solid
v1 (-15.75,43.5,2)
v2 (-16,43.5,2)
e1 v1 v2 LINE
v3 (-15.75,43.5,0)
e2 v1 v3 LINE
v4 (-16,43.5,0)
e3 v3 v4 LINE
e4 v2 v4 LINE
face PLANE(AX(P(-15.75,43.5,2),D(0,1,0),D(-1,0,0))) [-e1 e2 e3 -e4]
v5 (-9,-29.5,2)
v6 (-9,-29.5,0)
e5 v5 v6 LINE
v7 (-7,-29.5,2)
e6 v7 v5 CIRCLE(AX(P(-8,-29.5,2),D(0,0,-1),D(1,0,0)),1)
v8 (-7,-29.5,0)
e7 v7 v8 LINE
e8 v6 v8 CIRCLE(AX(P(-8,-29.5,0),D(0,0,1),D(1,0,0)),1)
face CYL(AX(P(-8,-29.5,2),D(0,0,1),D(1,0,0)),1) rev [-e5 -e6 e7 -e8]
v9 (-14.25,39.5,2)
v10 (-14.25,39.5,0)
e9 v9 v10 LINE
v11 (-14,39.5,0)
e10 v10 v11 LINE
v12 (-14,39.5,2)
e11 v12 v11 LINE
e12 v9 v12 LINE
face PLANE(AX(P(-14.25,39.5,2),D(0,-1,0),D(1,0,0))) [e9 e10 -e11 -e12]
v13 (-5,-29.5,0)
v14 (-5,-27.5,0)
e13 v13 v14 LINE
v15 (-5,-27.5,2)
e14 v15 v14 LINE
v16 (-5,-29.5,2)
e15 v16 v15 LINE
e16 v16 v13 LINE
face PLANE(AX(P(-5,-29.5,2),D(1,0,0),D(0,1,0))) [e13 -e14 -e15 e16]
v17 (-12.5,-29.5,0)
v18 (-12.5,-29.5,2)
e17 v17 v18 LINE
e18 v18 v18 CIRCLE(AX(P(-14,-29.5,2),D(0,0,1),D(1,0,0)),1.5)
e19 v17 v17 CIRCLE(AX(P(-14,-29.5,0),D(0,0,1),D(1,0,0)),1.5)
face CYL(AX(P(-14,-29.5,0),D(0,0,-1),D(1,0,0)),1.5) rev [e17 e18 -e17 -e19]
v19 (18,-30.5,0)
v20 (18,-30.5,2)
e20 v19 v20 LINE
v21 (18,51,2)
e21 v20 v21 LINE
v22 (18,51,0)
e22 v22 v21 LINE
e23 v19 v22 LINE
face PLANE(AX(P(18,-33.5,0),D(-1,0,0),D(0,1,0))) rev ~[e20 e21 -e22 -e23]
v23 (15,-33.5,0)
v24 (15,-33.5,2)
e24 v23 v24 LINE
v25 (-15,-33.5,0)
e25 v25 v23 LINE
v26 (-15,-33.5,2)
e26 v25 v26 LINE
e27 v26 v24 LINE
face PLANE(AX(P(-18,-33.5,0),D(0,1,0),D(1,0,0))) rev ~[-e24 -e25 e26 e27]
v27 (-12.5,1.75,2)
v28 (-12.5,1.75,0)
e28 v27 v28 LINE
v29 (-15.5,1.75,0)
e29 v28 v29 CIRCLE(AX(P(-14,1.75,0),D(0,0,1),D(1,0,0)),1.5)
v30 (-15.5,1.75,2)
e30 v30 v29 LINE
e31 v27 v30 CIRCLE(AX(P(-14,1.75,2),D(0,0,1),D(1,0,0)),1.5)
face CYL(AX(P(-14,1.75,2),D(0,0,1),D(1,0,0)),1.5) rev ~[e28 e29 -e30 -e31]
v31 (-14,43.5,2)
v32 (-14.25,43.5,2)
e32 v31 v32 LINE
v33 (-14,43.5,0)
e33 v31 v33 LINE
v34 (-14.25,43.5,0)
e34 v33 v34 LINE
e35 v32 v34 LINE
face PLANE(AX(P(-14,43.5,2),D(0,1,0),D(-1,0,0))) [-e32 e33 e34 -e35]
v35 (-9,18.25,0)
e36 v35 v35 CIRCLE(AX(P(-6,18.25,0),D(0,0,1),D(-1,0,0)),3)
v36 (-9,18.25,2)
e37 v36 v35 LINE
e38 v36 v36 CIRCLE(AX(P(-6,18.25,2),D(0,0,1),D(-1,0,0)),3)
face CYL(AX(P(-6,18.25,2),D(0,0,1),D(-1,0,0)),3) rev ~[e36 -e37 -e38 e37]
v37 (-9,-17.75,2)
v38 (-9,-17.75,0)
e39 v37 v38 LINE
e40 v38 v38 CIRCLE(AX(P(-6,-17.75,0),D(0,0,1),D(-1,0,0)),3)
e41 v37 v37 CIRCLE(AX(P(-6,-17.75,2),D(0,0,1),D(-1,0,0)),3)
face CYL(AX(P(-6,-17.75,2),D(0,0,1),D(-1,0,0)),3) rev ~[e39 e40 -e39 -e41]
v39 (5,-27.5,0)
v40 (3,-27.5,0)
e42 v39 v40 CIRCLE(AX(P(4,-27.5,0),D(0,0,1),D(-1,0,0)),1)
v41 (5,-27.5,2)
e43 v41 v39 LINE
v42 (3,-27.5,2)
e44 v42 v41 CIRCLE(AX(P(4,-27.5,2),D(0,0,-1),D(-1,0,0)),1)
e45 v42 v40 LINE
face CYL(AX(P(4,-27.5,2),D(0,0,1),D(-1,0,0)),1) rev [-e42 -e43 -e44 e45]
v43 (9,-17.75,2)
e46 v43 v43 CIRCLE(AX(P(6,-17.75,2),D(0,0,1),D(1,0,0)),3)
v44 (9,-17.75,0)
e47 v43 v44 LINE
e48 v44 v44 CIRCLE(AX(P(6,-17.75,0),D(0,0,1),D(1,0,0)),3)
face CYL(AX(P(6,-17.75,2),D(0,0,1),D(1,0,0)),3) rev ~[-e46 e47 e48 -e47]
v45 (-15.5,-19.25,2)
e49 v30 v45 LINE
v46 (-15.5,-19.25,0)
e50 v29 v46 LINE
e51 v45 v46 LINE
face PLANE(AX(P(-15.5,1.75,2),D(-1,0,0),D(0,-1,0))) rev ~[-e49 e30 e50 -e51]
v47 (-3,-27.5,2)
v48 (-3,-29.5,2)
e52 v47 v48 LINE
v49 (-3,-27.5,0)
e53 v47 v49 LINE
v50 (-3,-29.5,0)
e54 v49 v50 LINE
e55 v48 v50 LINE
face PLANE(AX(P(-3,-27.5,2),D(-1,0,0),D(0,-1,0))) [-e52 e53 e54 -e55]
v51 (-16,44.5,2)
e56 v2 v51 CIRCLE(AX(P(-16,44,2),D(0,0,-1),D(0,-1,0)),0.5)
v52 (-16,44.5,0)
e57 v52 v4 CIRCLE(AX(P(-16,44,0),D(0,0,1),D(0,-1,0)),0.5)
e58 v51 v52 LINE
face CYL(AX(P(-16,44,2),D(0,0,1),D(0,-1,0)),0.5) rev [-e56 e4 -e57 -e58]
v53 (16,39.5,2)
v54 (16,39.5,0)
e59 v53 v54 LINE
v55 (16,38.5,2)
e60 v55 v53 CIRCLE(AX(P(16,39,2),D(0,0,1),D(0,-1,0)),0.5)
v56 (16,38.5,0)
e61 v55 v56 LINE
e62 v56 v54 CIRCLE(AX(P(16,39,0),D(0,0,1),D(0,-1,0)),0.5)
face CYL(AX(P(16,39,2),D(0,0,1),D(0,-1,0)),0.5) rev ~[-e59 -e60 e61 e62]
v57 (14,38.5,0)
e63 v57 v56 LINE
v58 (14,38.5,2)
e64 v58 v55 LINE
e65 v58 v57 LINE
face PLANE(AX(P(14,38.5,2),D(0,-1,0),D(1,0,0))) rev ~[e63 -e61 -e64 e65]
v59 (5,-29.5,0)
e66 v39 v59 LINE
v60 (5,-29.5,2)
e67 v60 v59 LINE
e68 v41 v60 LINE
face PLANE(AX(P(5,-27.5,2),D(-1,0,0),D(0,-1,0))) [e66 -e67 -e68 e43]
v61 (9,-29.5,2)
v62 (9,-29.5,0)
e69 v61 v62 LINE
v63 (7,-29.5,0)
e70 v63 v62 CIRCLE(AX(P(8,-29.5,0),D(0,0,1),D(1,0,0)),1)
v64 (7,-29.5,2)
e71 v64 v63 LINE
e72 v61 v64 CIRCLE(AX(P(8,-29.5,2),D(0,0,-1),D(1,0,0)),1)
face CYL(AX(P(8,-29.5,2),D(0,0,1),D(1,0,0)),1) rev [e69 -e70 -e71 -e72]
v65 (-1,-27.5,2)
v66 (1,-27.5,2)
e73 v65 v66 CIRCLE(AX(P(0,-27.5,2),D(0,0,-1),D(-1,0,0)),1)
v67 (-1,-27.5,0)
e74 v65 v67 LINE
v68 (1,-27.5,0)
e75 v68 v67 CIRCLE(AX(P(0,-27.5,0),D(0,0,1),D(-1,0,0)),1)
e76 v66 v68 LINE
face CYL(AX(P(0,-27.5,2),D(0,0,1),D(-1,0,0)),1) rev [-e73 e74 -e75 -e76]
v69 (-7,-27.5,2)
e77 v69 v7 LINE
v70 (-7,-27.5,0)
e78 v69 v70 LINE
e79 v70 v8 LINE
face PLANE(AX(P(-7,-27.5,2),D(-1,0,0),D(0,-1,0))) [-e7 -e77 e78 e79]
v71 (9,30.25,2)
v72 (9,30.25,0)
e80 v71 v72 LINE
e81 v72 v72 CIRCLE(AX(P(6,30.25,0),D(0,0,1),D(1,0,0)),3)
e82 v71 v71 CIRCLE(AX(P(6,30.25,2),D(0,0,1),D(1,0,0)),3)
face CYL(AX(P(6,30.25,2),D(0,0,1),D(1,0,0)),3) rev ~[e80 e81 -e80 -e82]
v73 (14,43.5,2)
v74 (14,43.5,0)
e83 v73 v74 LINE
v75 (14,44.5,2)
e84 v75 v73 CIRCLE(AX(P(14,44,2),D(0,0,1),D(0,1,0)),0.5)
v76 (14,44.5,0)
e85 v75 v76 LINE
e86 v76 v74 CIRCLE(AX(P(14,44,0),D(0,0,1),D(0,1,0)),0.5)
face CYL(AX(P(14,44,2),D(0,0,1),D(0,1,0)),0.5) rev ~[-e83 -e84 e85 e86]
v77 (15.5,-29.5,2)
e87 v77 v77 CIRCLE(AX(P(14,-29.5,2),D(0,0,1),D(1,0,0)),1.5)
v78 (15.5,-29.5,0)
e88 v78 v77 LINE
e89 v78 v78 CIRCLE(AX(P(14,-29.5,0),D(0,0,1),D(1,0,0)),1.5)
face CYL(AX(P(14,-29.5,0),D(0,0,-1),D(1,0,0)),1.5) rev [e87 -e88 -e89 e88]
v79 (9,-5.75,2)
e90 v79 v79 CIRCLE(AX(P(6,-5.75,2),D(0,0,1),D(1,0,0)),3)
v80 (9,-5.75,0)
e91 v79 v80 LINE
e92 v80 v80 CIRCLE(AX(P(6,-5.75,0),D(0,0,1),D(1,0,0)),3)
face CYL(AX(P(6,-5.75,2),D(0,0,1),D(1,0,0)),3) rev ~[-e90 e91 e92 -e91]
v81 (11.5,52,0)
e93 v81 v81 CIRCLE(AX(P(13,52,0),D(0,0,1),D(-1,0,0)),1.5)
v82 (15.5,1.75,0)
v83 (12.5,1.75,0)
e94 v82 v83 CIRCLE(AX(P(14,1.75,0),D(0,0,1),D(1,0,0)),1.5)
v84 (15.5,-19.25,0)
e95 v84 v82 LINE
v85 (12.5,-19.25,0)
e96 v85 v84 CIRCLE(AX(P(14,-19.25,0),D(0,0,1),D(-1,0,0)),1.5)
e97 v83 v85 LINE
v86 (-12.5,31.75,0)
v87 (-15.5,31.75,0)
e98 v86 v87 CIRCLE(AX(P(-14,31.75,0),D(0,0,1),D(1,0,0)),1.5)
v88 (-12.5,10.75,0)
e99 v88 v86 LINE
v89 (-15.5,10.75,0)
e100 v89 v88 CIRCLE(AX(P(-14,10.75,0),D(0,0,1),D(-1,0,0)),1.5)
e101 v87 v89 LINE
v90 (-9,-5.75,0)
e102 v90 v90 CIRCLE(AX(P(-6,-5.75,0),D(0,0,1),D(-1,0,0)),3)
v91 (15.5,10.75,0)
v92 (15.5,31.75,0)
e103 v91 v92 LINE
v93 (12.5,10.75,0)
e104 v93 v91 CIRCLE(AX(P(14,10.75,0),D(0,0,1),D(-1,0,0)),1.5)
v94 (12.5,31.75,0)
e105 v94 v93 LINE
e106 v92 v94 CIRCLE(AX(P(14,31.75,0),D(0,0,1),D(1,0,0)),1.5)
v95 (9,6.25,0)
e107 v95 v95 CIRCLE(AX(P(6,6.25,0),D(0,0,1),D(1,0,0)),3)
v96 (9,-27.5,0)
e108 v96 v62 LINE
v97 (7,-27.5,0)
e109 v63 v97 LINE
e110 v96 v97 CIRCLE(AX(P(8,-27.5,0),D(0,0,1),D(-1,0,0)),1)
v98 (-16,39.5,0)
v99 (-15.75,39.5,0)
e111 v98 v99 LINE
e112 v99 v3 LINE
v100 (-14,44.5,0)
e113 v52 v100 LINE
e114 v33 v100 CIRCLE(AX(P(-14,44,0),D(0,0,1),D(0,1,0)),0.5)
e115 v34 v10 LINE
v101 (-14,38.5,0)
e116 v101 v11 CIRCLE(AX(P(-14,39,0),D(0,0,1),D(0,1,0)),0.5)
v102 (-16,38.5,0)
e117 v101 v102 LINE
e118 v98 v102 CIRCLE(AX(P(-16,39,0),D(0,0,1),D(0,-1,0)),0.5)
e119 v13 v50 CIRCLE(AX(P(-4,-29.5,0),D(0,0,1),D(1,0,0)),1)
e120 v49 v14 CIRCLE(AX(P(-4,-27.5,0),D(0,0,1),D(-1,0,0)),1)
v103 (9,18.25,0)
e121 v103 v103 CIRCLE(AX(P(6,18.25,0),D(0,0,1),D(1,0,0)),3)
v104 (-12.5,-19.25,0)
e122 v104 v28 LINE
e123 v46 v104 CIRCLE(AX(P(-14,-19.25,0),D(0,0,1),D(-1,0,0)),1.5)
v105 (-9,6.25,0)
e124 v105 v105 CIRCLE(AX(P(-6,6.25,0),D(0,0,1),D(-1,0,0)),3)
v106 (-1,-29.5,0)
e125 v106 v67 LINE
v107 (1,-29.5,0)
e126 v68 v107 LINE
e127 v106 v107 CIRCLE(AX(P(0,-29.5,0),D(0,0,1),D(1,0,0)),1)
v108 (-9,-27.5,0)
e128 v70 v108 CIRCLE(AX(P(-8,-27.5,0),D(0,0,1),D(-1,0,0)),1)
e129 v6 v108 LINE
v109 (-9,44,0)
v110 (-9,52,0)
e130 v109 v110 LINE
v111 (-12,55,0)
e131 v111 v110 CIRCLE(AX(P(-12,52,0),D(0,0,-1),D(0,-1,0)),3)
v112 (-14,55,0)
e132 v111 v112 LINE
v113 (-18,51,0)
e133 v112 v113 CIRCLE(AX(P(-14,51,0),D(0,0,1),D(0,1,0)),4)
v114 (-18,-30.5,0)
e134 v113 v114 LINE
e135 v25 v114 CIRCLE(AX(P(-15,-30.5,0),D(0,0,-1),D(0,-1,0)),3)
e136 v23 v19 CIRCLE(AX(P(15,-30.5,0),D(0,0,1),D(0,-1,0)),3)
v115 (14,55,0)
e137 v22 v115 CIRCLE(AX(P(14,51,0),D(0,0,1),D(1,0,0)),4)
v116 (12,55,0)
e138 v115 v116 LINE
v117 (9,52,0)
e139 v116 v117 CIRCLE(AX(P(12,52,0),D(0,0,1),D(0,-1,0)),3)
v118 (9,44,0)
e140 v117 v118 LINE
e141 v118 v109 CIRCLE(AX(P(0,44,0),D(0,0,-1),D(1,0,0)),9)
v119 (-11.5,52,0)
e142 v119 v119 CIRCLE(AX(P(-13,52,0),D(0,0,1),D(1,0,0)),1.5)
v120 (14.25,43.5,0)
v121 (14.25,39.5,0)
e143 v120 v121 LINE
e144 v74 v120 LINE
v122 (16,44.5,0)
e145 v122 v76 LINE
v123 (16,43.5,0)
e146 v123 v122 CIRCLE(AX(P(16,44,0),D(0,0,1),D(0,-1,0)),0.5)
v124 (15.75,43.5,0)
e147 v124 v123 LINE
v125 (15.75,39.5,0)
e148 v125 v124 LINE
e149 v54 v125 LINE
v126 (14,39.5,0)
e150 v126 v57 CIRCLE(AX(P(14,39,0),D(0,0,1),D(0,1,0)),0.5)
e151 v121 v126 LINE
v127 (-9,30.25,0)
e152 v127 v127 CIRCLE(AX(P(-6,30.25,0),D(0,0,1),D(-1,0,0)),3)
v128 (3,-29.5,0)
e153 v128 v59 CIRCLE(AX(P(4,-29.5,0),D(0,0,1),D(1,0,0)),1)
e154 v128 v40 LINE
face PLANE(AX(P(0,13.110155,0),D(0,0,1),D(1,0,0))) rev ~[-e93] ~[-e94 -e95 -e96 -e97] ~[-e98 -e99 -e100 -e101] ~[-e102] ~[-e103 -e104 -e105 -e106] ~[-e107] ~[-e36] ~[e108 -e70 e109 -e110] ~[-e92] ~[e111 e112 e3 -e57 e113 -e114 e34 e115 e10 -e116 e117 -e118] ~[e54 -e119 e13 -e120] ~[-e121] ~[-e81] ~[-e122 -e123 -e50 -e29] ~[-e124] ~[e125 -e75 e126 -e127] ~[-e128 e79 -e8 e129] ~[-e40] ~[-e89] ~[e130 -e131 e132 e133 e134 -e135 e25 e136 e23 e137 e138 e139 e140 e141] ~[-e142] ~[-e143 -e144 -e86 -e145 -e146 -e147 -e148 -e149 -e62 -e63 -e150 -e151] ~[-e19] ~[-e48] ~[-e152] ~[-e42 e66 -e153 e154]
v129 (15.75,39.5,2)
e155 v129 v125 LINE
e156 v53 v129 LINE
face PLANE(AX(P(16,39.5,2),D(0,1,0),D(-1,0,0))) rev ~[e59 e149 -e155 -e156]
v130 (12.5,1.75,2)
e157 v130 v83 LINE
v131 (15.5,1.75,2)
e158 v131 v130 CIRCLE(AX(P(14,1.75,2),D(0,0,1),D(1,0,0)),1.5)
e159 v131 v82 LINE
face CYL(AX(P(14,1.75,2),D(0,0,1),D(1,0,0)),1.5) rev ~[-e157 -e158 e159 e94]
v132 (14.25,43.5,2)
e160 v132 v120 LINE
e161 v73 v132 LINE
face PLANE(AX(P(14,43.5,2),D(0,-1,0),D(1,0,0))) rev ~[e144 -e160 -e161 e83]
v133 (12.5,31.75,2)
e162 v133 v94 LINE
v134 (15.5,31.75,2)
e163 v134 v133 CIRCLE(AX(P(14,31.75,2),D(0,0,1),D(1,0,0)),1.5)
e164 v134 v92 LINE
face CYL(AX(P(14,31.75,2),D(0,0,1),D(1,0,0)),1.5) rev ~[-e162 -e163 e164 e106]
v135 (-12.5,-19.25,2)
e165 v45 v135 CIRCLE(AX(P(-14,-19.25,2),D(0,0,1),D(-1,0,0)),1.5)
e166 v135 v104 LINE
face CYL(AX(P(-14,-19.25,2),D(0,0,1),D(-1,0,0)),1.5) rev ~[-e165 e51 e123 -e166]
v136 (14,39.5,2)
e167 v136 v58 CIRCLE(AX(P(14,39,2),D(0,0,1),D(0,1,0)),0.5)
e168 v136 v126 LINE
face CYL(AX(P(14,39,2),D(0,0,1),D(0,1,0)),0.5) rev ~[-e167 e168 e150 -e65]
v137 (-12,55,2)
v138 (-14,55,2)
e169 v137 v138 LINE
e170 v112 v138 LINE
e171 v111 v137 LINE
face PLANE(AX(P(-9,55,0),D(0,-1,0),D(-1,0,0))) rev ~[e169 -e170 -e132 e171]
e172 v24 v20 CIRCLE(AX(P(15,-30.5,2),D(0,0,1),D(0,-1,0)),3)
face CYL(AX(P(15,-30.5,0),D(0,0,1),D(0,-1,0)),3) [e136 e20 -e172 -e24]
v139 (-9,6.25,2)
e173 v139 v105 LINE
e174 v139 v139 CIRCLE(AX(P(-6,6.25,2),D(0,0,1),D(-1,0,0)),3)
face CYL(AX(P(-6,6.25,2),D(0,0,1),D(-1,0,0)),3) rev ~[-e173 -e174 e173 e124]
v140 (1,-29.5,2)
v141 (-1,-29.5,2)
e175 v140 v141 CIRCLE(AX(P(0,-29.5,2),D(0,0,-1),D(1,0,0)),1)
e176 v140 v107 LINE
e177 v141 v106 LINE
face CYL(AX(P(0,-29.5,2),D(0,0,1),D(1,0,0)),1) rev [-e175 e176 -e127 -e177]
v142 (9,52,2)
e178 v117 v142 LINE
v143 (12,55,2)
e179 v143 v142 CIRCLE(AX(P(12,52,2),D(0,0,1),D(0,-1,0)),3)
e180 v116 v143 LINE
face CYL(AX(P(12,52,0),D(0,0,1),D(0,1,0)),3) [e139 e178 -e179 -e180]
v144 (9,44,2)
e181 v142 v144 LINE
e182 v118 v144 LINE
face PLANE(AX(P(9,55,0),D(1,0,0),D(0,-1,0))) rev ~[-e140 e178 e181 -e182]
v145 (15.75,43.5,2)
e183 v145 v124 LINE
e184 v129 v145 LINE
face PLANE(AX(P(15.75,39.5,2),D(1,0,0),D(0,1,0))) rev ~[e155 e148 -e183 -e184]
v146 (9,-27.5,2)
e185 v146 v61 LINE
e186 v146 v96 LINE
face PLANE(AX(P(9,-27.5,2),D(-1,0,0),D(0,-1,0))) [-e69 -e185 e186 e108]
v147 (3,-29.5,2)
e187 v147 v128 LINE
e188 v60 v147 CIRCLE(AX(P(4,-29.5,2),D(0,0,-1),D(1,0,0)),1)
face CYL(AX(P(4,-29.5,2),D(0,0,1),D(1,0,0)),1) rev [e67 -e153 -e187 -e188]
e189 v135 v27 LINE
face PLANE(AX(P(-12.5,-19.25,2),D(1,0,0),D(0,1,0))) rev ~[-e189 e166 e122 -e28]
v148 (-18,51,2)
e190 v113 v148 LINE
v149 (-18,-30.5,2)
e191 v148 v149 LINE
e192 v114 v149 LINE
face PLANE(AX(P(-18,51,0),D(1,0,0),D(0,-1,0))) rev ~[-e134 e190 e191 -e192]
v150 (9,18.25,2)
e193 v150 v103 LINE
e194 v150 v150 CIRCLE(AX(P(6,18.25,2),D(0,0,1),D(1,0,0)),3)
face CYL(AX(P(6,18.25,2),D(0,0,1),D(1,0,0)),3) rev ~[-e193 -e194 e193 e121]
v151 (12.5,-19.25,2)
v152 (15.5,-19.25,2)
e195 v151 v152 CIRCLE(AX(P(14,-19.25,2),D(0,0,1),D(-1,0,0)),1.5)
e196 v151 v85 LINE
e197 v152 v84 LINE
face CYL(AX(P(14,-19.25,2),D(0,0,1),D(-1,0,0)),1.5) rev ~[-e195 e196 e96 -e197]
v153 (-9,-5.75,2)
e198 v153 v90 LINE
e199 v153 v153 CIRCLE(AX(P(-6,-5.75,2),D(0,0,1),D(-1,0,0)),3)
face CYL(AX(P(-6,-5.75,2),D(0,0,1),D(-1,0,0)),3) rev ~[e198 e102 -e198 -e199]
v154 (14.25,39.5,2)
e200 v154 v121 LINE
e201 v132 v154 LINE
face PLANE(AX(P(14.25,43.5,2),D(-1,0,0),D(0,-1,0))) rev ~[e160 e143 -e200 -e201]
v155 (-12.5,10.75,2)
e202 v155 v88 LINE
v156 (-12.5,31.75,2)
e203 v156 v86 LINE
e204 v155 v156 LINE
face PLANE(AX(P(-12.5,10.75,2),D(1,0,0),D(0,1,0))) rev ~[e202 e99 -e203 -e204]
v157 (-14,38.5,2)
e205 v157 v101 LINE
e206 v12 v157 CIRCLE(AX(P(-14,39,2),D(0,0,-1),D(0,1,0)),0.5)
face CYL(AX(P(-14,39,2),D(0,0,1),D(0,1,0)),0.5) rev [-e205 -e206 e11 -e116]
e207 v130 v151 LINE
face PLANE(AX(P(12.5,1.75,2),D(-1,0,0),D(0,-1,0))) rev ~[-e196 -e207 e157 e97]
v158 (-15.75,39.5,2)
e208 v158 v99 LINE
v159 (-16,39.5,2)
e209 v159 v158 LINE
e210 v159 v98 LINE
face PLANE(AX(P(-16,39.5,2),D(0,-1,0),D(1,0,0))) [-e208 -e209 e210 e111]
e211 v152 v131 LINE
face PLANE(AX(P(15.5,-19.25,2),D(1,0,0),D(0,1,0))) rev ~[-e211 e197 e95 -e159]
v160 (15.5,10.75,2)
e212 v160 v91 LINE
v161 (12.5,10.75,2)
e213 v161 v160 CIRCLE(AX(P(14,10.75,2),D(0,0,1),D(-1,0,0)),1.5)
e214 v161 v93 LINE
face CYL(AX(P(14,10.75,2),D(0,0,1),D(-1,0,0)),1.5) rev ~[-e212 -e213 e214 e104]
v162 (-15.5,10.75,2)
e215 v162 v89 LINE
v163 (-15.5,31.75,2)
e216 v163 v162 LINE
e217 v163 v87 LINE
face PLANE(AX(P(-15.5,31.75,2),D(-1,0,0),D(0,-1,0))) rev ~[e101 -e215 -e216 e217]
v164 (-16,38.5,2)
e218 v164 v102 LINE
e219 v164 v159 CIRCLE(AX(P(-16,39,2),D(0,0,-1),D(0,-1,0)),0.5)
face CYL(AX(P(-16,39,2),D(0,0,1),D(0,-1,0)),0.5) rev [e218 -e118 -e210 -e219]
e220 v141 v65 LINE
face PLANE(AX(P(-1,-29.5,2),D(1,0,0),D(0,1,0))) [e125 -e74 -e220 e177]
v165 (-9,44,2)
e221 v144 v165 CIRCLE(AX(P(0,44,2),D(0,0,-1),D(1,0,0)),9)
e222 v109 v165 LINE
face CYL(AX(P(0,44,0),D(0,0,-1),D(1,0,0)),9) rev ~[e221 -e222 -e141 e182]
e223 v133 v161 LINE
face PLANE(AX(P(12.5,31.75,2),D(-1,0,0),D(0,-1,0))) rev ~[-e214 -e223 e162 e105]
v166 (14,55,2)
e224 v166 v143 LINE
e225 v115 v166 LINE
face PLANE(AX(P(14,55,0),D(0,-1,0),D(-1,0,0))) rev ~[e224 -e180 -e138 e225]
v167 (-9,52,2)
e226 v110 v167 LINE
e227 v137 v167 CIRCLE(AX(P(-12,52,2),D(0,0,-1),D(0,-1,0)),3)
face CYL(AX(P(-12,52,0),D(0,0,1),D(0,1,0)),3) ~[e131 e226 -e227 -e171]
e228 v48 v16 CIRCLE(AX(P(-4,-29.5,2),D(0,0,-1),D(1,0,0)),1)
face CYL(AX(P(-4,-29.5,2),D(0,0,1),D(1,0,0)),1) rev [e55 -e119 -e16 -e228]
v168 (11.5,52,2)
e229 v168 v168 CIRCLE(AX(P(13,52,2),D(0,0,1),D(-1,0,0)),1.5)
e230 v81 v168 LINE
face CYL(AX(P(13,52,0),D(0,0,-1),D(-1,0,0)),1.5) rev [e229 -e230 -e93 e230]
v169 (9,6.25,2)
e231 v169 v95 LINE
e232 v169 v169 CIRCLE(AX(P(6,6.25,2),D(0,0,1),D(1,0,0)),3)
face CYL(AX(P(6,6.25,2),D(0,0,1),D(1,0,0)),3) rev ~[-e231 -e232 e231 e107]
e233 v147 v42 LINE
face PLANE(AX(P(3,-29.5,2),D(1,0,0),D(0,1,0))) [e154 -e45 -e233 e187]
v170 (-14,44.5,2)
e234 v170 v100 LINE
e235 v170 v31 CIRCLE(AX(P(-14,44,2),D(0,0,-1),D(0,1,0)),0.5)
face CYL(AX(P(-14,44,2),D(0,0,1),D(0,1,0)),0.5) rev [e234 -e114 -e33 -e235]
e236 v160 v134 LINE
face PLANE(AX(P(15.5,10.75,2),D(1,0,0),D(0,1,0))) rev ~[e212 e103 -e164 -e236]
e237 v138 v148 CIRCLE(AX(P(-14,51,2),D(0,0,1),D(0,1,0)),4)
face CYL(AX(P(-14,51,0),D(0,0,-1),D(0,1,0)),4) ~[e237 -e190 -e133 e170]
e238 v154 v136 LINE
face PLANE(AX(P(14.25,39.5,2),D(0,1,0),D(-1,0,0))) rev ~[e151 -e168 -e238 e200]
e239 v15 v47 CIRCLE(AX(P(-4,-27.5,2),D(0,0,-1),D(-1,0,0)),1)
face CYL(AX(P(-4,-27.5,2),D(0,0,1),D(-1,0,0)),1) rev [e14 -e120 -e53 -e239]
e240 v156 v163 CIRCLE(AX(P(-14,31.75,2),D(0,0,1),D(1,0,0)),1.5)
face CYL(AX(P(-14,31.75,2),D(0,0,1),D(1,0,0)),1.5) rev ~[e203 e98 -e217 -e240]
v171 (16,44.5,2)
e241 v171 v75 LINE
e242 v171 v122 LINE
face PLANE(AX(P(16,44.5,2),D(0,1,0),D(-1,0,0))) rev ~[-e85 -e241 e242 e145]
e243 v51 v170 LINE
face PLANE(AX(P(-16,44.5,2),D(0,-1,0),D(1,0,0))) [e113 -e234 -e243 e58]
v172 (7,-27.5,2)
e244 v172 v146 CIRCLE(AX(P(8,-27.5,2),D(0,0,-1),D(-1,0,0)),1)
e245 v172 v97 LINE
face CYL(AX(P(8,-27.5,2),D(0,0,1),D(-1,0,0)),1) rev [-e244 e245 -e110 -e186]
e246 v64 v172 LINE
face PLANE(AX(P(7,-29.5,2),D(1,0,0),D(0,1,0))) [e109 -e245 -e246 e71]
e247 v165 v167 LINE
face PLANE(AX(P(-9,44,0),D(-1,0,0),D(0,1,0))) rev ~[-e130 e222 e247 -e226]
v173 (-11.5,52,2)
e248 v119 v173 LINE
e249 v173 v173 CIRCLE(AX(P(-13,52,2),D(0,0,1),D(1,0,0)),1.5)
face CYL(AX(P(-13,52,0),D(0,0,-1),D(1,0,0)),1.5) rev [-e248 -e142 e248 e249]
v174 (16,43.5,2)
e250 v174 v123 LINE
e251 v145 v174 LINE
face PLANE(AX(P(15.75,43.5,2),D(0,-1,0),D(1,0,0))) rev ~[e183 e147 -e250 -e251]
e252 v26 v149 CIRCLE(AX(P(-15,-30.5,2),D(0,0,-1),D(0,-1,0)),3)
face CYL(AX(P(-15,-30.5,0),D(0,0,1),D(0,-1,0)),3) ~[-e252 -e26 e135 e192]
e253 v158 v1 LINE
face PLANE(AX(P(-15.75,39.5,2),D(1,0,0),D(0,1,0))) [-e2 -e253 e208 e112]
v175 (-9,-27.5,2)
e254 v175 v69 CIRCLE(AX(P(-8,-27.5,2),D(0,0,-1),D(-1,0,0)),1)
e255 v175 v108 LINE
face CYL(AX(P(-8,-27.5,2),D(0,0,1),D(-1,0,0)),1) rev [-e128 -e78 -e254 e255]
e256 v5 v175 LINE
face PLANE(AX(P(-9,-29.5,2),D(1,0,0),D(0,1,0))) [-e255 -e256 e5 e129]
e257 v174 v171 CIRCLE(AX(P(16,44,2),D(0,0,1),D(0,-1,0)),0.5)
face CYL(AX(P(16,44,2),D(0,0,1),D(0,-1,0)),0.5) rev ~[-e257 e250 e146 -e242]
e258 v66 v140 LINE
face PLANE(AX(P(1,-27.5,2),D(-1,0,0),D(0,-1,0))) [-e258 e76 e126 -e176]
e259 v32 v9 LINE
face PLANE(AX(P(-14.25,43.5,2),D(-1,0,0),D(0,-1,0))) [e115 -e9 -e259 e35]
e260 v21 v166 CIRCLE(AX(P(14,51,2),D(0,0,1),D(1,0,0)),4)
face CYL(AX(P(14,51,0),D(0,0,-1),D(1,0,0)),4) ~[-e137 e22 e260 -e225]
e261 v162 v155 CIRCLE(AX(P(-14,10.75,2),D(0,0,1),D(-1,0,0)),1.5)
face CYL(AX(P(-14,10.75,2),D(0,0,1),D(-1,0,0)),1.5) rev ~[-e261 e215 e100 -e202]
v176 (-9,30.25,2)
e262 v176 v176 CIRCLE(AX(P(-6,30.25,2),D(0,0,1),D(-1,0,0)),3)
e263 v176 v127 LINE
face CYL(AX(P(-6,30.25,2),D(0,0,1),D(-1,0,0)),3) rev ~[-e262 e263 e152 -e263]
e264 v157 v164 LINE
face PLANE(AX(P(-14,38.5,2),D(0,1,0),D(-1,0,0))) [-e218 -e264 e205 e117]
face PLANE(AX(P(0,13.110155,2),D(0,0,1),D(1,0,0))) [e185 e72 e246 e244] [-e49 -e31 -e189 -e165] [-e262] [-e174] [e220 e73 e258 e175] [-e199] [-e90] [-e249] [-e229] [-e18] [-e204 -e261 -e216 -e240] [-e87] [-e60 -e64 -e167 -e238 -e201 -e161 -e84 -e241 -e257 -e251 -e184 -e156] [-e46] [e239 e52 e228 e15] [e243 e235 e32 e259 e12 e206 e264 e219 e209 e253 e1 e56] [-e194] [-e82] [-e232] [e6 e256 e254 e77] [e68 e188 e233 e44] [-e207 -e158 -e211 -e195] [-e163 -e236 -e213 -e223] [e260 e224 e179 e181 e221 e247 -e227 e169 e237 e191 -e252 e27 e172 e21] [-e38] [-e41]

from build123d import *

# Parameters (mm, degrees)
SKETCH1_R           = 1.5
BOSS_EXTRUDE1_DEPTH = 2
FILLET1_R           = 3
FILLET2_R           = 3
SKETCH2_R           = 3
CUT_EXTRUDE1_DEPTH  = 58.905094767


with BuildPart() as part:
    # Sketch1 → Boss-Extrude1 (new body)
    with BuildSketch(Plane.XY):
        with BuildLine():
            Line((-18, 29.5), (-18, -33.5))
            Line((-18, -33.5), (18, -33.5))
            Line((18, -33.5), (18, 29.5))
            Line((18, 29.5), (18, 51))
            ThreePointArc((18, 51), (16.828427125, 53.828427125), (14, 55))
            Line((14, 55), (9, 55))
            Line((9, 55), (9, 44))
            ThreePointArc((9, 44), (0, 35), (-9, 44))
            Line((-9, 44), (-9, 55))
            Line((-9, 55), (-14, 55))
            ThreePointArc((-14, 55), (-16.828427125, 53.828427125), (-18, 51))
            Line((-18, 51), (-18, 29.5))
        make_face()
        with Locations((-14, -29.5)):
            Circle(SKETCH1_R, mode=Mode.SUBTRACT)
        with Locations((14, -29.5)):
            Circle(SKETCH1_R, mode=Mode.SUBTRACT)
        with Locations((-13, 52)):
            Circle(SKETCH1_R, mode=Mode.SUBTRACT)
        with Locations(Location((13, 52, 0), (0, 0, 180))):
            Circle(SKETCH1_R, mode=Mode.SUBTRACT)
    extrude(amount=BOSS_EXTRUDE1_DEPTH)

    # Fillet1
    fillet1_edges = [part.edges().sort_by_distance(p)[0] for p in [
        (18, -33.5, 1),
        (-18, -33.5, 1),
    ]]
    fillet(fillet1_edges, radius=FILLET1_R)

    # Fillet2
    fillet2_edges = [part.edges().sort_by_distance(p)[0] for p in [
        (-9, 55, 1),
        (9, 55, 1),
    ]]
    fillet(fillet2_edges, radius=FILLET2_R)

    # Sketch2 → Cut-Extrude1 (cut, through all)
    with BuildSketch(Plane.XY.offset(2)):
        with Locations((6, -17.75)):
            Circle(SKETCH2_R)
        with Locations(Location((-6, -17.75, 0), (0, 0, 180))):
            Circle(SKETCH2_R)
        with Locations(Location((-6, -5.75, 0), (0, 0, 180))):
            Circle(SKETCH2_R)
        with Locations((6, -5.75)):
            Circle(SKETCH2_R)
        with Locations(Location((-6, 6.25, 0), (0, 0, 180))):
            Circle(SKETCH2_R)
        with Locations((6, 6.25)):
            Circle(SKETCH2_R)
        with Locations(Location((-6, 18.25, 0), (0, 0, 180))):
            Circle(SKETCH2_R)
        with Locations((6, 18.25)):
            Circle(SKETCH2_R)
        with Locations(Location((-6, 30.25, 0), (0, 0, 180))):
            Circle(SKETCH2_R)
        with Locations((6, 30.25)):
            Circle(SKETCH2_R)
        with BuildLine():
            Line((-15.5, 1.75), (-15.5, -19.25))
            ThreePointArc((-15.5, -19.25), (-14, -20.75), (-12.5, -19.25))
            Line((-12.5, -19.25), (-12.5, 1.75))
            ThreePointArc((-12.5, 1.75), (-14, 3.25), (-15.5, 1.75))
        make_face()
        with BuildLine():
            Line((12.5, 1.75), (12.5, -19.25))
            ThreePointArc((12.5, -19.25), (14, -20.75), (15.5, -19.25))
            Line((15.5, -19.25), (15.5, 1.75))
            ThreePointArc((15.5, 1.75), (14, 3.25), (12.5, 1.75))
        make_face()
        with BuildLine():
            Line((-15.5, 31.75), (-15.5, 10.75))
            ThreePointArc((-15.5, 10.75), (-14, 9.25), (-12.5, 10.75))
            Line((-12.5, 10.75), (-12.5, 31.75))
            ThreePointArc((-12.5, 31.75), (-14, 33.25), (-15.5, 31.75))
        make_face()
        with BuildLine():
            Line((12.5, 31.75), (12.5, 10.75))
            ThreePointArc((12.5, 10.75), (14, 9.25), (15.5, 10.75))
            Line((15.5, 10.75), (15.5, 31.75))
            ThreePointArc((15.5, 31.75), (14, 33.25), (12.5, 31.75))
        make_face()
        with BuildLine():
            Line((-9, -29.5), (-9, -27.5))
            ThreePointArc((-9, -27.5), (-8, -26.5), (-7, -27.5))
            Line((-7, -27.5), (-7, -29.5))
            ThreePointArc((-7, -29.5), (-8, -30.5), (-9, -29.5))
        make_face()
        with BuildLine():
            Line((-5, -29.5), (-5, -27.5))
            ThreePointArc((-5, -27.5), (-4, -26.5), (-3, -27.5))
            Line((-3, -27.5), (-3, -29.5))
            ThreePointArc((-3, -29.5), (-4, -30.5), (-5, -29.5))
        make_face()
        with BuildLine():
            Line((-1, -29.5), (-1, -27.5))
            ThreePointArc((-1, -27.5), (0, -26.5), (1, -27.5))
            Line((1, -27.5), (1, -29.5))
            ThreePointArc((1, -29.5), (0, -30.5), (-1, -29.5))
        make_face()
        with BuildLine():
            Line((3, -29.5), (3, -27.5))
            ThreePointArc((3, -27.5), (4, -26.5), (5, -27.5))
            Line((5, -27.5), (5, -29.5))
            ThreePointArc((5, -29.5), (4, -30.5), (3, -29.5))
        make_face()
        with BuildLine():
            Line((7, -29.5), (7, -27.5))
            ThreePointArc((7, -27.5), (8, -26.5), (9, -27.5))
            Line((9, -27.5), (9, -29.5))
            ThreePointArc((9, -29.5), (8, -30.5), (7, -29.5))
        make_face()
        with BuildLine():
            Line((-16, 44.5), (-14, 44.5))
            ThreePointArc((-14, 44.5), (-13.5, 44), (-14, 43.5))
            Line((-14, 43.5), (-14.25, 43.5))
            Line((-14.25, 43.5), (-14.25, 39.5))
            Line((-14.25, 39.5), (-14, 39.5))
            ThreePointArc((-14, 39.5), (-13.5, 39), (-14, 38.5))
            Line((-14, 38.5), (-16, 38.5))
            ThreePointArc((-16, 38.5), (-16.5, 39), (-16, 39.5))
            Line((-16, 39.5), (-15.75, 39.5))
            Line((-15.75, 39.5), (-15.75, 43.5))
            Line((-15.75, 43.5), (-16, 43.5))
            ThreePointArc((-16, 43.5), (-16.5, 44), (-16, 44.5))
        make_face()
        with BuildLine():
            Line((14.25, 39.5), (14, 39.5))
            ThreePointArc((14, 39.5), (13.5, 39), (14, 38.5))
            Line((14, 38.5), (16, 38.5))
            ThreePointArc((16, 38.5), (16.5, 39), (16, 39.5))
            Line((16, 39.5), (15.75, 39.5))
            Line((15.75, 39.5), (15.75, 43.5))
            Line((15.75, 43.5), (16, 43.5))
            ThreePointArc((16, 43.5), (16.5, 44), (16, 44.5))
            Line((16, 44.5), (14, 44.5))
            ThreePointArc((14, 44.5), (13.5, 44), (14, 43.5))
            Line((14, 43.5), (14.25, 43.5))
            Line((14.25, 43.5), (14.25, 39.5))
        make_face()
    extrude(amount=-CUT_EXTRUDE1_DEPTH, mode=Mode.SUBTRACT)


solid = part.part
